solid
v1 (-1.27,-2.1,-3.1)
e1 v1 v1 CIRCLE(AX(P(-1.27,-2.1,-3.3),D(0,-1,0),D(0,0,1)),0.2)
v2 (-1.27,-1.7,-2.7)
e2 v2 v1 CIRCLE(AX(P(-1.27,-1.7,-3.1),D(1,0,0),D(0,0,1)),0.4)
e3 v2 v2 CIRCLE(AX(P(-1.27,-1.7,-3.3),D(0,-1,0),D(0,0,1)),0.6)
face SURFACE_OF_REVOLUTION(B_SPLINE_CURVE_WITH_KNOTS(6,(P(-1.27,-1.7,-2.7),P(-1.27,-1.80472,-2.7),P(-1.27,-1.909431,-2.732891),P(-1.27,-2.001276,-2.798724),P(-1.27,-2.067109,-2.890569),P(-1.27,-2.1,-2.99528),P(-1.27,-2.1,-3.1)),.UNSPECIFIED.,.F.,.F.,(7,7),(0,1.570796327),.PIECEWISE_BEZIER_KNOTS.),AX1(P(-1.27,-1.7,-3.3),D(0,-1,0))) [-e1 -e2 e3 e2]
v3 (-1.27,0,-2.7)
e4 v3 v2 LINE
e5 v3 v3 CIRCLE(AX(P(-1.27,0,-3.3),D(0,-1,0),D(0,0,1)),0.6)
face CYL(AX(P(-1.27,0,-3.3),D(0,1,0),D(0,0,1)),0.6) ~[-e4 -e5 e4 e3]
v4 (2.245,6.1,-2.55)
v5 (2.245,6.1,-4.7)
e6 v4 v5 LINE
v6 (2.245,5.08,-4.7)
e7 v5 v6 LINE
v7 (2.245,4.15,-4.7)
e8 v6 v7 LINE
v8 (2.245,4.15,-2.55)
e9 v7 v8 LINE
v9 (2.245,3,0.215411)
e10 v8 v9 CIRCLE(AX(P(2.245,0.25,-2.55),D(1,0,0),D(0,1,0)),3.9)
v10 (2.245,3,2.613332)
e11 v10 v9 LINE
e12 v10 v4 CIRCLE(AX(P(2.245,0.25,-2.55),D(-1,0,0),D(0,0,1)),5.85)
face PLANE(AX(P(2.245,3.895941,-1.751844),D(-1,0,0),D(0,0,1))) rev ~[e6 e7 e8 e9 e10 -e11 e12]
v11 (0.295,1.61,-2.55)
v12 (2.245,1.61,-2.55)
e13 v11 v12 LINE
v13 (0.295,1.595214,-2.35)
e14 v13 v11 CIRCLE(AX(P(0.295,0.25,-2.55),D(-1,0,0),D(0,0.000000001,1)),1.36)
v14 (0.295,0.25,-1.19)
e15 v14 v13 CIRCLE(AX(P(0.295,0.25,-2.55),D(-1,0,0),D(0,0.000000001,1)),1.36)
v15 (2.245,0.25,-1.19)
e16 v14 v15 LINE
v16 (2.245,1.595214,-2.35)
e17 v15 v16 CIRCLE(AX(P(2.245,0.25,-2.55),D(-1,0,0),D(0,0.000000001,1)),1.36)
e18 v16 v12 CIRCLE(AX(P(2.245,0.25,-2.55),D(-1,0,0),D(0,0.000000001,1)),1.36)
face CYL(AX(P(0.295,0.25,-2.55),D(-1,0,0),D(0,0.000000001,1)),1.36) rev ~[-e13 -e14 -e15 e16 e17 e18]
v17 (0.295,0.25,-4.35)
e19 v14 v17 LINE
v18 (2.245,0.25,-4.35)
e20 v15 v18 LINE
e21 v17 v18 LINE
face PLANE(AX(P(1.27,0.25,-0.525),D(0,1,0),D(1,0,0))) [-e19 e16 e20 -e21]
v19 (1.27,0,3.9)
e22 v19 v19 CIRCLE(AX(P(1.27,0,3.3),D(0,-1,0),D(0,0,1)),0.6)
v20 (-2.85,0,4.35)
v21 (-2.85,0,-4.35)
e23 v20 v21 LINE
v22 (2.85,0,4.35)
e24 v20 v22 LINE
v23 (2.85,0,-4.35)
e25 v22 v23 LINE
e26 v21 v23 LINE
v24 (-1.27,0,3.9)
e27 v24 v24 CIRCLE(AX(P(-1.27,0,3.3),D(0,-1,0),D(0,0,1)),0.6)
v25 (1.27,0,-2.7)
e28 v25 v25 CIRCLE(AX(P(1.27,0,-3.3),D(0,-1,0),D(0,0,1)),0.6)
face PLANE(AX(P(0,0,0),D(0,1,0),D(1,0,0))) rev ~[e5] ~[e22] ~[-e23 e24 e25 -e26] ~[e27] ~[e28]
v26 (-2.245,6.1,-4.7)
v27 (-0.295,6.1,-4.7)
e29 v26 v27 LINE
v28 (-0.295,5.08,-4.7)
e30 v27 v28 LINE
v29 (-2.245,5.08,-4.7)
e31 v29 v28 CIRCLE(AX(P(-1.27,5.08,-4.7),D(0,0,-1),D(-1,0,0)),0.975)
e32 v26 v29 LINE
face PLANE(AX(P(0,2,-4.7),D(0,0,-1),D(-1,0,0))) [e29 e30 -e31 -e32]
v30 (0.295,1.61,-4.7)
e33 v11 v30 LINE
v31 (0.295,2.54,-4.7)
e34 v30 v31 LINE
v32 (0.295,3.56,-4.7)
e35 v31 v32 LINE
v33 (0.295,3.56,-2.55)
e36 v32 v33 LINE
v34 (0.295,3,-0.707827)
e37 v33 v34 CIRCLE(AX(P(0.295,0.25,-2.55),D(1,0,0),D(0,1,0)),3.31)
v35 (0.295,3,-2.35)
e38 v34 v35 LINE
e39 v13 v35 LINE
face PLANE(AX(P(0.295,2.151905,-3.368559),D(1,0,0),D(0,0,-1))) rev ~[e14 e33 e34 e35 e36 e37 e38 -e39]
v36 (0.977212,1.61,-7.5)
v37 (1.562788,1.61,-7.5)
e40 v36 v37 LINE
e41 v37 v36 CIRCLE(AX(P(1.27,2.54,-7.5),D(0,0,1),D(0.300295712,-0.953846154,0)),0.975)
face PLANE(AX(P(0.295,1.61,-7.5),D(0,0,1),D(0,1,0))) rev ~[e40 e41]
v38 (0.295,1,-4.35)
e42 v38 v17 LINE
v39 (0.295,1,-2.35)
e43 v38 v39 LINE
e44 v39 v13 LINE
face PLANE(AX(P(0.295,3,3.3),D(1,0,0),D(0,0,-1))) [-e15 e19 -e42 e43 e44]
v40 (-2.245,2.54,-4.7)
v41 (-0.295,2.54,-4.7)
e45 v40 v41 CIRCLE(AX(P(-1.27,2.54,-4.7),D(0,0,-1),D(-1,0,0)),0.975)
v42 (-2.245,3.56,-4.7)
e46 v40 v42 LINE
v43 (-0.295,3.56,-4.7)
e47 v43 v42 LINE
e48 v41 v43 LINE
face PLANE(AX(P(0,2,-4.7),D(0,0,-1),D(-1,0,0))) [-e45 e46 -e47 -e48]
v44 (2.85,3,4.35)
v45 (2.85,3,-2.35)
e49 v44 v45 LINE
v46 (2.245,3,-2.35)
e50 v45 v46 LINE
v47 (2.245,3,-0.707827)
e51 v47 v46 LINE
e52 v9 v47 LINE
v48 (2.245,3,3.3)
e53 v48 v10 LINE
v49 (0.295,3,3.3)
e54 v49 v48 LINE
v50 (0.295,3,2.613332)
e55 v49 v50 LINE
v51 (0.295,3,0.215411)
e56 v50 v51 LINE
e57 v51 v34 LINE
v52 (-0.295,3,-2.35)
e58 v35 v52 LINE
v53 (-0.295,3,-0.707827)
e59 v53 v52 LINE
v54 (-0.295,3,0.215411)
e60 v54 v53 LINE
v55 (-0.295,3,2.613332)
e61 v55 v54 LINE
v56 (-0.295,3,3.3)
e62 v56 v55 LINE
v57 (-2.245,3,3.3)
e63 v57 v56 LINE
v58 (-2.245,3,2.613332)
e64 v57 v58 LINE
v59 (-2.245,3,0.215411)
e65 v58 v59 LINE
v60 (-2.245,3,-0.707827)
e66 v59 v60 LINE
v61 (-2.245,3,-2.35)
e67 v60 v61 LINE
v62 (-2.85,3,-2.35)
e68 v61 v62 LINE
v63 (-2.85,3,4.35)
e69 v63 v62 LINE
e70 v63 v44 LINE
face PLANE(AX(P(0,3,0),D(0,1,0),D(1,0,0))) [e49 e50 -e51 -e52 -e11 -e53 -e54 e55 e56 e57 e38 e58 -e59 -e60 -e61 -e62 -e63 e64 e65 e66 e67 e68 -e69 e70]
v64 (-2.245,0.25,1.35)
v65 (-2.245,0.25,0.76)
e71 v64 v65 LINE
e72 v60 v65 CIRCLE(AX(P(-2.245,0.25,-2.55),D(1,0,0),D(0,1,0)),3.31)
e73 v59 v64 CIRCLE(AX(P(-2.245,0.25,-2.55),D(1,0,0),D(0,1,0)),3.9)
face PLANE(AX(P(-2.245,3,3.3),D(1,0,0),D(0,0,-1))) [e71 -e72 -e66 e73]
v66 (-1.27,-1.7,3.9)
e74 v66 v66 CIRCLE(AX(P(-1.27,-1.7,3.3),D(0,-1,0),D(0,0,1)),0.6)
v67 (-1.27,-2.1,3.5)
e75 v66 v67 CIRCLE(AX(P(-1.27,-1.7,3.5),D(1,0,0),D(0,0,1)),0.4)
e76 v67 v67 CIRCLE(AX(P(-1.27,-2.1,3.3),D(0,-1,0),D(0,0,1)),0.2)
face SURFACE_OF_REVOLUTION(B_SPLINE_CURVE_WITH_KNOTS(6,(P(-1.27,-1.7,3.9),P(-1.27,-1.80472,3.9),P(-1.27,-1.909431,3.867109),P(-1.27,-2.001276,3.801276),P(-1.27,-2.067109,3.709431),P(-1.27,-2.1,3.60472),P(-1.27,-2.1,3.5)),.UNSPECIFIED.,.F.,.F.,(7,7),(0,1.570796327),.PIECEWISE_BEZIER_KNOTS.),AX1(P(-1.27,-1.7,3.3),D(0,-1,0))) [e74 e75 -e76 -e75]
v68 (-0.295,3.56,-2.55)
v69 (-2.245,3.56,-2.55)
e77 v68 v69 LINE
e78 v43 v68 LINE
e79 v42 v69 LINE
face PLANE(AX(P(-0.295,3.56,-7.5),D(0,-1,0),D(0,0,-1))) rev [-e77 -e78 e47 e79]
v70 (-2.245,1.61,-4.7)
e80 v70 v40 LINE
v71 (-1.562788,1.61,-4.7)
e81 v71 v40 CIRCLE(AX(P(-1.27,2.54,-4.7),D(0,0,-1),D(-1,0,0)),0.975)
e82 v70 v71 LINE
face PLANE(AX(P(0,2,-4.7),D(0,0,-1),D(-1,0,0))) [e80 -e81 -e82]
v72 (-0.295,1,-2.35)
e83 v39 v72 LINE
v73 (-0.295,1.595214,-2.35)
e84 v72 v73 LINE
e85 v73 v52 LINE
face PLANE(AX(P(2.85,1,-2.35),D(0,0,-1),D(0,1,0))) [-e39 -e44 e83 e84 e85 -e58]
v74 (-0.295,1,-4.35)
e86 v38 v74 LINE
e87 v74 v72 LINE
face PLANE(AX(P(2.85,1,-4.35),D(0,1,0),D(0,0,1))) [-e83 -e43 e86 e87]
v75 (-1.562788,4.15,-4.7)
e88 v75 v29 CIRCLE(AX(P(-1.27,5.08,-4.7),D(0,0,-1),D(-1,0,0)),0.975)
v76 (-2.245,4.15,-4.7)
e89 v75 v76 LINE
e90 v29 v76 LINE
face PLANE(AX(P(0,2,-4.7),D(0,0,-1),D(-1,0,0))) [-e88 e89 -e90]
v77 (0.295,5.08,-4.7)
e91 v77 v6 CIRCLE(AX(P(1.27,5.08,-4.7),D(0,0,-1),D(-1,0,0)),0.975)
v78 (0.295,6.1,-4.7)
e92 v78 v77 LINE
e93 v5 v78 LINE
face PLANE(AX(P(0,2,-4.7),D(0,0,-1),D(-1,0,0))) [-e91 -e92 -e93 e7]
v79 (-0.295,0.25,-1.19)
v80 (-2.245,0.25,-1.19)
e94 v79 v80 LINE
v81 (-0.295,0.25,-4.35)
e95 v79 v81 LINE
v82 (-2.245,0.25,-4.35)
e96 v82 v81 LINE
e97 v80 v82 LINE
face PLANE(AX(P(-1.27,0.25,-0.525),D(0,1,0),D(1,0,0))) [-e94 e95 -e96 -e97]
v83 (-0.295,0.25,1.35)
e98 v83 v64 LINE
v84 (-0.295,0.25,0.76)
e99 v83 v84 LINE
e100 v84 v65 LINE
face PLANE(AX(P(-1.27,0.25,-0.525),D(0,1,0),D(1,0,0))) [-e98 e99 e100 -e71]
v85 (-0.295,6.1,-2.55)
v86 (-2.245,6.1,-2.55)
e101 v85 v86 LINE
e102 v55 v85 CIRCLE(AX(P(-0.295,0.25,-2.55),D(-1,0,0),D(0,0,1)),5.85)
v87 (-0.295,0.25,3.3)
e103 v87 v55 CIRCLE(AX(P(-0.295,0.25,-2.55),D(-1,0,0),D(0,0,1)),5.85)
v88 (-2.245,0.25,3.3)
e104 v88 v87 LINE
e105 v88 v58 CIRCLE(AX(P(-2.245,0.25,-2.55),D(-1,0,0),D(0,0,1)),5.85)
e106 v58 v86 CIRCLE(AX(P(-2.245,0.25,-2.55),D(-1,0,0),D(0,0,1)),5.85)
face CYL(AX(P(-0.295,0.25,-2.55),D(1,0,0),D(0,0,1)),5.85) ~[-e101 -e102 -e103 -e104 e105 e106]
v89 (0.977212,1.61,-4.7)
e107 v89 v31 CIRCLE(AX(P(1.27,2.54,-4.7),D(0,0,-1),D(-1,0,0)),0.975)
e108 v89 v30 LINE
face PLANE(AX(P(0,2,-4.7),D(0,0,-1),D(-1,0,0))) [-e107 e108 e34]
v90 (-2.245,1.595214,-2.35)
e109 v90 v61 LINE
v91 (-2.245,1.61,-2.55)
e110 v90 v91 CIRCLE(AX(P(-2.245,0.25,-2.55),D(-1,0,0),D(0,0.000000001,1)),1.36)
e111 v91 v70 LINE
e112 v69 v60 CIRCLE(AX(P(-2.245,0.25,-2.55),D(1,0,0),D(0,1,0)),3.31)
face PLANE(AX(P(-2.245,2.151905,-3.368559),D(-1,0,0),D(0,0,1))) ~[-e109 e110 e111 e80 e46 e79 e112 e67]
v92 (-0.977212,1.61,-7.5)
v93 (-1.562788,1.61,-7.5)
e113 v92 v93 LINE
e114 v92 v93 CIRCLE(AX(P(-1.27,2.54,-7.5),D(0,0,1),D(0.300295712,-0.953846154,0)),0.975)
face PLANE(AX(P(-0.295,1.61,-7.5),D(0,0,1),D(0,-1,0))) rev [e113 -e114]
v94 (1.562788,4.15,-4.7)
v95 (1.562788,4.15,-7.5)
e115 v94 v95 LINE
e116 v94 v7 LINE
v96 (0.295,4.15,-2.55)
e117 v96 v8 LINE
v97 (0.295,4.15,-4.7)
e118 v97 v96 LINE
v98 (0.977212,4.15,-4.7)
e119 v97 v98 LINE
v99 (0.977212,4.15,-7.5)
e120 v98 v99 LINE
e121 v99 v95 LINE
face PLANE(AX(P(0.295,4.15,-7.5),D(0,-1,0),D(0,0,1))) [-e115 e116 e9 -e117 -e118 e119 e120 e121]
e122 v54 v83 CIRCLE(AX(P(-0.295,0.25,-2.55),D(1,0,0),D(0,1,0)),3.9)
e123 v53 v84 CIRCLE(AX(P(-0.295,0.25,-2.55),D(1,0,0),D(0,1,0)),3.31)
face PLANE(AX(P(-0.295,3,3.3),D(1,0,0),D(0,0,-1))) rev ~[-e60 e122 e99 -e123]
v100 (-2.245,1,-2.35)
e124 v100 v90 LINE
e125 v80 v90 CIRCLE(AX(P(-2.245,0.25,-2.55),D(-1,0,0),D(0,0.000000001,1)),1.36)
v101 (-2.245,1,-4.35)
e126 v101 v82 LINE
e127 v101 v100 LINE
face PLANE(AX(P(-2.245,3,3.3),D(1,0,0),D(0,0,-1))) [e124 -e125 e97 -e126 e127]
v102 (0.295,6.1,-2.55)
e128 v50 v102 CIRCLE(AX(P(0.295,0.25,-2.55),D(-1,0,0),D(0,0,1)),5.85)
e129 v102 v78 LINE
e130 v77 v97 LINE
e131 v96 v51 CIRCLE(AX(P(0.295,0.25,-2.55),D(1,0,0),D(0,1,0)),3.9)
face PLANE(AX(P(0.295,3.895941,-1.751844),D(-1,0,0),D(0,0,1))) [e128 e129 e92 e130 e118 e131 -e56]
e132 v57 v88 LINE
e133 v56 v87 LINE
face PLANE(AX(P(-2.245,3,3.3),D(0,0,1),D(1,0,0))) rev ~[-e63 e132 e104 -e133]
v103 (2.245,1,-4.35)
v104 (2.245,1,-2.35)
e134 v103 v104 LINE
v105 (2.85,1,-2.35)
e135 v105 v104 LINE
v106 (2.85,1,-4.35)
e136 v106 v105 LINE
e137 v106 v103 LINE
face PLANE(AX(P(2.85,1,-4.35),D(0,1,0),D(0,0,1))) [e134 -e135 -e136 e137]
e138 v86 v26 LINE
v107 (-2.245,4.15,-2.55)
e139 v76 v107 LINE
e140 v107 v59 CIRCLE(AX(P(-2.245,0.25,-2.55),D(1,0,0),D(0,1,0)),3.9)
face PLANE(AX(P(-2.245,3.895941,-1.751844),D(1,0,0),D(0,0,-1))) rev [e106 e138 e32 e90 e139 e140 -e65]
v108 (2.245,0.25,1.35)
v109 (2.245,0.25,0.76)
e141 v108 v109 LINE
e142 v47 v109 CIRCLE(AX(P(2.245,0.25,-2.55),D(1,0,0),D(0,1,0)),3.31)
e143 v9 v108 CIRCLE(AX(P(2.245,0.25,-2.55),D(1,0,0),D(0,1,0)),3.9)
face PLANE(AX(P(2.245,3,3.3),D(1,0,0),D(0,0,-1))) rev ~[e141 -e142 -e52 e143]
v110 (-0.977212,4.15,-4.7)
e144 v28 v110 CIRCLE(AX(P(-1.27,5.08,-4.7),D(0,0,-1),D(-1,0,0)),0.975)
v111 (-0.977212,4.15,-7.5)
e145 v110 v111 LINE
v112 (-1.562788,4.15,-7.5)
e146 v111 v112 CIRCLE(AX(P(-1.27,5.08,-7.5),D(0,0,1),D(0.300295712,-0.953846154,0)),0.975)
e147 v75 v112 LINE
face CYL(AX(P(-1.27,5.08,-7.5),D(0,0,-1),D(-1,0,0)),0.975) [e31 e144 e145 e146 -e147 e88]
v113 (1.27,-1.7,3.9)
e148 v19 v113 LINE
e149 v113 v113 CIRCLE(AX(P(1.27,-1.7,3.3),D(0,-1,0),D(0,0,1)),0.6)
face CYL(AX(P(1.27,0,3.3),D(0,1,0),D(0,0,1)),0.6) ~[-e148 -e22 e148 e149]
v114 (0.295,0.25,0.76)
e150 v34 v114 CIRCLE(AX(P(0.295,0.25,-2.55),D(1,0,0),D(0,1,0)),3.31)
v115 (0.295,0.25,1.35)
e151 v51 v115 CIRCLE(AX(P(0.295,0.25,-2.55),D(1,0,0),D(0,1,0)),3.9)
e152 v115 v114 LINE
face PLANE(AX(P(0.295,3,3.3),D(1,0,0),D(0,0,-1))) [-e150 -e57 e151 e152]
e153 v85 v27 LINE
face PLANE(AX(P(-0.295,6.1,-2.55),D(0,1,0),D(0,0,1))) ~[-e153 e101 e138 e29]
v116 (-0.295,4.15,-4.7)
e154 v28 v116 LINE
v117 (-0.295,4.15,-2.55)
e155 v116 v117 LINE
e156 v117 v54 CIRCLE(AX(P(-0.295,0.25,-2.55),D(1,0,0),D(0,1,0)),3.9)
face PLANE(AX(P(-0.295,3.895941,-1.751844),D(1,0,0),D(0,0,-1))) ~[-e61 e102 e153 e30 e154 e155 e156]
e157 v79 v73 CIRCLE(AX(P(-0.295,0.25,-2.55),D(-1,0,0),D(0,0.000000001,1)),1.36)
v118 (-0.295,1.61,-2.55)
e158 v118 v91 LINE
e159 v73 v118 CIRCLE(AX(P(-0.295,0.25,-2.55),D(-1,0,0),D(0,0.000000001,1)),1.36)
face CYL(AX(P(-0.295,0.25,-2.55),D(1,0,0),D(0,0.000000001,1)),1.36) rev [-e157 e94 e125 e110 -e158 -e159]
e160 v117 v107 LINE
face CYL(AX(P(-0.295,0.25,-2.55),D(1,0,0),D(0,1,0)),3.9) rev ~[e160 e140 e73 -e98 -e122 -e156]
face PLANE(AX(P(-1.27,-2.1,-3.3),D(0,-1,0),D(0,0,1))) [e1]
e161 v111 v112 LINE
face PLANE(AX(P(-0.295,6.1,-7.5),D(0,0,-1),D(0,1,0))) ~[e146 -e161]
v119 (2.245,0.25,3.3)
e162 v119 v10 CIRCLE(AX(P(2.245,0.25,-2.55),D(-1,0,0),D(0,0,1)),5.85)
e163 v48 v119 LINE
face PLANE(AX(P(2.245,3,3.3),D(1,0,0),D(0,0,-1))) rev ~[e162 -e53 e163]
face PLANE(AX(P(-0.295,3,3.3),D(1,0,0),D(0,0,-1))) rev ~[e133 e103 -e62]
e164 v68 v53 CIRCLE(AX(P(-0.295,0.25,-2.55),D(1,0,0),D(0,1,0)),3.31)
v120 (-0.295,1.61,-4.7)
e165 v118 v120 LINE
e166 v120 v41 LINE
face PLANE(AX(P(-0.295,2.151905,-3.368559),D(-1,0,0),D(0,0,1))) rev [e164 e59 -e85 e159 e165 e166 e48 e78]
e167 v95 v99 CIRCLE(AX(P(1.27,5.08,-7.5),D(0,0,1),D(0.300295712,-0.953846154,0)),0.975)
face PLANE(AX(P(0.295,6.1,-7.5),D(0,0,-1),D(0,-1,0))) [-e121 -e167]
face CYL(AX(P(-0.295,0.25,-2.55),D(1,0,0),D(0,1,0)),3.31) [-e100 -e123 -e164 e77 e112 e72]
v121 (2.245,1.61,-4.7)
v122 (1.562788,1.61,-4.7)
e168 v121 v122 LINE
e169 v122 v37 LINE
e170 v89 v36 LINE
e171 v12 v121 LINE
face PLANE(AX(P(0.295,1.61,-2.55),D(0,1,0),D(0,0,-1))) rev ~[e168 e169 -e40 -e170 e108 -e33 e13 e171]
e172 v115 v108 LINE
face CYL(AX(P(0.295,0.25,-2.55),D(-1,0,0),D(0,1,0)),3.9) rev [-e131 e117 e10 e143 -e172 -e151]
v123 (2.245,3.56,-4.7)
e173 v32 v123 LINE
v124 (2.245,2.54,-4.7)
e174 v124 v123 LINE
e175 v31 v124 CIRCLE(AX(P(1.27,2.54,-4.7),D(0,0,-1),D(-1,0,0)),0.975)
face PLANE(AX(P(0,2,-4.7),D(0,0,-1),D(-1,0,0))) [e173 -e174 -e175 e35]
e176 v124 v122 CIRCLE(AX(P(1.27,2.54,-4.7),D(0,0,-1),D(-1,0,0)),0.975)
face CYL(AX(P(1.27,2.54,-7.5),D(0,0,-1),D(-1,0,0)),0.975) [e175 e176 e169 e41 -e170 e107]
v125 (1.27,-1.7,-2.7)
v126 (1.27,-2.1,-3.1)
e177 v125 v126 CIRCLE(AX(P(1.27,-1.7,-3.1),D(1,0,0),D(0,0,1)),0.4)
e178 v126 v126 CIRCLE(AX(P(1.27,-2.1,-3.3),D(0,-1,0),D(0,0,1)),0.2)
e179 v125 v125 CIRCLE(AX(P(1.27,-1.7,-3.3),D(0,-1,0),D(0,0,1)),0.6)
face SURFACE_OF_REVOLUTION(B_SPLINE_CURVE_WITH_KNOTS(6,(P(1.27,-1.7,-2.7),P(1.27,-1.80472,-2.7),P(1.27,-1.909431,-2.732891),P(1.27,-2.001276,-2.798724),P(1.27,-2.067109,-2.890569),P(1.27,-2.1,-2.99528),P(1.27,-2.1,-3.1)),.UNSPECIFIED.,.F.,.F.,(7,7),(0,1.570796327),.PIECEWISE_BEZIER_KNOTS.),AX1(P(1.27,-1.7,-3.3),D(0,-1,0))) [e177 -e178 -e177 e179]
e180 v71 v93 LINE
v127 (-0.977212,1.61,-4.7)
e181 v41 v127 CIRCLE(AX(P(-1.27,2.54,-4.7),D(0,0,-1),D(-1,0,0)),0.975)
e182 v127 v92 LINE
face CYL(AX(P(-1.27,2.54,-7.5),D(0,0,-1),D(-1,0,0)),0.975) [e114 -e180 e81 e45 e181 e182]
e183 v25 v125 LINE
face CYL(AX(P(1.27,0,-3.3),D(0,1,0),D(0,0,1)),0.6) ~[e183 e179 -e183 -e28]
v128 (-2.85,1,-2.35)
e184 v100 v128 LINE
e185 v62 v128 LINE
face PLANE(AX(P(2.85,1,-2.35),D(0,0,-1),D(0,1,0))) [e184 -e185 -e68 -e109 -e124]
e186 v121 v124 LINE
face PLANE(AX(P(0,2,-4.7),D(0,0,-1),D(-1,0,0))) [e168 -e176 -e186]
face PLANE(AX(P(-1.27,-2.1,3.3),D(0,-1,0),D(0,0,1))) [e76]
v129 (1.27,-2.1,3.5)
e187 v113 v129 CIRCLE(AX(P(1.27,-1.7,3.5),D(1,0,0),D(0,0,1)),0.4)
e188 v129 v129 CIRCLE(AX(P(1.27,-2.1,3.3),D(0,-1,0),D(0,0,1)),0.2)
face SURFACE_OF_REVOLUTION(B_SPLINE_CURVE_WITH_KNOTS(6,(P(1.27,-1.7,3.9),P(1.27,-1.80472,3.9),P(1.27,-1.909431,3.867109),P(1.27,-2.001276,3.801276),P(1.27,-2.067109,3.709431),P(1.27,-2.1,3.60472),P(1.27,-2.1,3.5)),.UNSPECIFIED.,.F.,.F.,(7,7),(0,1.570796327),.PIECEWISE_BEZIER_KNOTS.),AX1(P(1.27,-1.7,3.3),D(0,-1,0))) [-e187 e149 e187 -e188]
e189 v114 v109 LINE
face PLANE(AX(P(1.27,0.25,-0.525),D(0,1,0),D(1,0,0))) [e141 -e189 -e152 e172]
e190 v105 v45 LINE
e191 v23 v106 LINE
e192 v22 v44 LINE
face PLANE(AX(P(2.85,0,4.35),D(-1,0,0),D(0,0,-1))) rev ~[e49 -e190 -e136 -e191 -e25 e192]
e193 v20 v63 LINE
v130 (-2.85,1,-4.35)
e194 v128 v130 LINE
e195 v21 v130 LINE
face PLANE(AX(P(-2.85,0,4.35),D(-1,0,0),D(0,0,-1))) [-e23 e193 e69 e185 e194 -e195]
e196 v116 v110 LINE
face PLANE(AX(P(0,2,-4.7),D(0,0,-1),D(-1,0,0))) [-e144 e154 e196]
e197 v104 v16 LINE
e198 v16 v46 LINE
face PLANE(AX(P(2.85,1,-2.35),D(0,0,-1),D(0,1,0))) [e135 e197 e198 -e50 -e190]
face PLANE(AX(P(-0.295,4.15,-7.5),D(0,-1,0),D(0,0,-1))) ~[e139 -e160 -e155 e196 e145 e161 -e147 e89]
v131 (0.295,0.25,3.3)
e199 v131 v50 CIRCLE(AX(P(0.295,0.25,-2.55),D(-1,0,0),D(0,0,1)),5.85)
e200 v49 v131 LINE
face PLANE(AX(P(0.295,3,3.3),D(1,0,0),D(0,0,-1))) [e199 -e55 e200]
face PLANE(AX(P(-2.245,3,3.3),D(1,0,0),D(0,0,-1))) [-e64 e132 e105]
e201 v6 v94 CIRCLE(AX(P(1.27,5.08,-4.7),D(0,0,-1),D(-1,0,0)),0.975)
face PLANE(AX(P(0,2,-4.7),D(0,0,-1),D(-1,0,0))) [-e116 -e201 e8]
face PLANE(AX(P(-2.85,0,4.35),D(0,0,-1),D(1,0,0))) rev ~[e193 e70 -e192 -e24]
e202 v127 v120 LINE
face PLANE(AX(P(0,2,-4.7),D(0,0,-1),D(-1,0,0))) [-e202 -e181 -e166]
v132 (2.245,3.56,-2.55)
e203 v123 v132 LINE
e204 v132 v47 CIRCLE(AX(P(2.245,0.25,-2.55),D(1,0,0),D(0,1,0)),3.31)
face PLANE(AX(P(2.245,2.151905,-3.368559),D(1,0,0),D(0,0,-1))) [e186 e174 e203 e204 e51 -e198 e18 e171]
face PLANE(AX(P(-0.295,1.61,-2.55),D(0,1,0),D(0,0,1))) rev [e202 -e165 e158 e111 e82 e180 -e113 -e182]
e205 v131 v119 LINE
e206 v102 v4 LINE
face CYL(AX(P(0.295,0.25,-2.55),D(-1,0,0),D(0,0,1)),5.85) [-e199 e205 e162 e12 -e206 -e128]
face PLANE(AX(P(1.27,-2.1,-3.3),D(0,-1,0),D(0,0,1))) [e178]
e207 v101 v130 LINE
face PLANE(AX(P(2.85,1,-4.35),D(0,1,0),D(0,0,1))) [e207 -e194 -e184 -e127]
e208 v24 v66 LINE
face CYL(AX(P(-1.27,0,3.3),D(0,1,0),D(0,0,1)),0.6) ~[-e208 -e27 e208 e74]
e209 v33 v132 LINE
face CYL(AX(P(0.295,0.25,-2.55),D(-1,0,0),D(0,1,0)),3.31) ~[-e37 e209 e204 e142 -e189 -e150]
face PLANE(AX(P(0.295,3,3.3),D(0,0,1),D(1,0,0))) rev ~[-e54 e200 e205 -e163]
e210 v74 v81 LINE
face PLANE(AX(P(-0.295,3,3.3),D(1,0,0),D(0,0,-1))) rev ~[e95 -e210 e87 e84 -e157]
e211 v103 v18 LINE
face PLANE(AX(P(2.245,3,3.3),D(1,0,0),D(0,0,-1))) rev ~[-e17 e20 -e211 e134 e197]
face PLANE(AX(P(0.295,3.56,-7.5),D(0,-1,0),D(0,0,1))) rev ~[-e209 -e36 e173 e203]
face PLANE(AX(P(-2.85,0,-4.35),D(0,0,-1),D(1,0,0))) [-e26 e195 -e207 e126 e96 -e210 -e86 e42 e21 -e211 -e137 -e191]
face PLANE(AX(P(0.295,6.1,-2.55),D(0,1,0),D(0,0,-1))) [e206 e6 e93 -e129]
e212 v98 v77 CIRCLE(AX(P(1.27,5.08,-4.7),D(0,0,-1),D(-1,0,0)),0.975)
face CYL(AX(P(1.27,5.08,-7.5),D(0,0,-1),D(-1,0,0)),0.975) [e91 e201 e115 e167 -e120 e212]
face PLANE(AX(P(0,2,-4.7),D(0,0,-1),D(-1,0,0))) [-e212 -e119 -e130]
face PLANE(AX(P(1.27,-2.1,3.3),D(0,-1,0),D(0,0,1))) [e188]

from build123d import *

# Parameters (mm, degrees)
SZKIC1_W                    = 5.7
SZKIC1_H                    = 8.7
DODANIE_WYCI_GNI_CIE1_DEPTH = 3
SZKIC5_W                    = 1.95
SZKIC5_H                    = 7.65
WYTNIJ_WYCI_GNI_CIE2_DEPTH  = 2.75
SZKIC3_W                    = 2
SZKIC3_H                    = 2
WYTNIJ_WYCI_GNI_CIE1_DEPTH  = 9.802840451
SZKIC6_R                    = 0.6
DODANIE_WYCI_GNI_CIE2_DEPTH = 2.1
ZAOKR_GLENIE1_R             = 0.4
DODANIE_WYCI_GNI_CIE3_DEPTH = 1.95
DODANIE_WYCI_GNI_CIE4_DEPTH = 1.95
SZKIC9_OUTSIDE_W            = 10.8
SZKIC9_OUTSIDE_H            = 13.3
SZKIC9_OUTSIDE_R            = 0.975
WYTNIJ_WYCI_GNI_CIE4_DEPTH  = 2.8


with BuildPart() as part:
    # Szkic1 → Dodanie-wyciągnięcie1 (new body)
    with BuildSketch(Plane(origin=(0, 0, 0), x_dir=(1, 0, 0), z_dir=(0, 1, 0))):
        Rectangle(SZKIC1_W, SZKIC1_H)
    extrude(amount=DODANIE_WYCI_GNI_CIE1_DEPTH)

    # Szkic5 → Wytnij-wyciągnięcie2 (cut)
    with BuildSketch(Plane(origin=(0, 3, 0), x_dir=(1, 0, 0), z_dir=(0, 1, 0))):
        with Locations((1.27, 0.525)):
            Rectangle(SZKIC5_W, SZKIC5_H)
        with Locations((-1.27, 0.525)):
            Rectangle(SZKIC5_W, SZKIC5_H)
    extrude(amount=-WYTNIJ_WYCI_GNI_CIE2_DEPTH, mode=Mode.SUBTRACT)

    # Szkic3 → Wytnij-wyciągnięcie1 (cut, through all)
    with BuildSketch(Plane(origin=(2.85, 0, 1.65), x_dir=(0, 0, 1), z_dir=(-1, 0, 0))):
        with Locations((-5, 2)):
            Rectangle(SZKIC3_W, SZKIC3_H)
    extrude(amount=WYTNIJ_WYCI_GNI_CIE1_DEPTH, mode=Mode.SUBTRACT)

    # Szkic6 → Dodanie-wyciągnięcie2 (add)
    with BuildSketch(Plane.XZ):
        with Locations(Location((1.27, 3.3, 0), (0, 0, 90))):
            Circle(SZKIC6_R)
        with Locations(Location((-1.27, 3.3, 0), (0, 0, 90))):
            Circle(SZKIC6_R)
        with Locations(Location((1.27, -3.3, 0), (0, 0, 90))):
            Circle(SZKIC6_R)
        with Locations(Location((-1.27, -3.3, 0), (0, 0, 90))):
            Circle(SZKIC6_R)
    extrude(amount=DODANIE_WYCI_GNI_CIE2_DEPTH)

    # Zaokrąglenie1
    zaokr_glenie1_edges = [part.edges().sort_by_distance(p)[0] for p in [
        (1.27, -2.1, 2.7),
        (-1.27, -2.1, 2.7),
        (1.27, -2.1, -3.9),
        (-1.27, -2.1, -3.9),
    ]]
    fillet(zaokr_glenie1_edges, radius=ZAOKR_GLENIE1_R)

    # Szkic7 → Dodanie-wyciągnięcie3 (add)
    with BuildSketch(Plane(origin=(0.295, 0, 0), x_dir=(0, 0, -1), z_dir=(1, 0, 0))):
        with BuildLine():
            Line((2.55, 6.1), (7.5, 6.1))
            Line((7.5, 6.1), (7.5, 4.15))
            Line((7.5, 4.15), (2.55, 4.15))
            ThreePointArc((2.55, 4.15), (-0.207716447, 3.007716447), (-1.35, 0.25))
            Line((-1.35, 0.25), (-3.3, 0.25))
            ThreePointArc((-3.3, 0.25), (-1.58657467, 4.38657467), (2.55, 6.1))
        make_face()
    dodanie_wyci_gni_cie3 = extrude(amount=DODANIE_WYCI_GNI_CIE3_DEPTH)

    # Szkic8 → Dodanie-wyciągnięcie4 (add)
    with BuildSketch(Plane(origin=(0.295, 0, 0), x_dir=(0, 0, -1), z_dir=(1, 0, 0))):
        with BuildLine():
            Line((7.5, 3.56), (2.55, 3.56))
            ThreePointArc((2.55, 3.56), (0.209476554, 2.590523446), (-0.76, 0.25))
            Line((-0.76, 0.25), (1.19, 0.25))
            ThreePointArc((1.19, 0.25), (1.588334778, 1.211665222), (2.55, 1.61))
            Line((2.55, 1.61), (7.5, 1.61))
            Line((7.5, 1.61), (7.5, 3.56))
        make_face()
    dodanie_wyci_gni_cie4 = extrude(amount=DODANIE_WYCI_GNI_CIE4_DEPTH)

    # Lustro2: Dodanie-wyciągnięcie3, Dodanie-wyciągnięcie4 across plane
    add(dodanie_wyci_gni_cie3.mirror(Plane.ZY))
    add(dodanie_wyci_gni_cie4.mirror(Plane.ZY))

    # Szkic9 outside → Wytnij-wyciągnięcie4 (cut)
    with BuildSketch(Plane(origin=(0, 0, -7.5), x_dir=(-1, 0, 0), z_dir=(0, 0, -1))):
        with Locations((0, 2)):
            Rectangle(SZKIC9_OUTSIDE_W, SZKIC9_OUTSIDE_H)
        with Locations((-1.27, 2.54)):
            Circle(SZKIC9_OUTSIDE_R, mode=Mode.SUBTRACT)
        with Locations((-1.27, 5.08)):
            Circle(SZKIC9_OUTSIDE_R, mode=Mode.SUBTRACT)
        with Locations((1.27, 5.08)):
            Circle(SZKIC9_OUTSIDE_R, mode=Mode.SUBTRACT)
        with Locations((1.27, 2.54)):
            Circle(SZKIC9_OUTSIDE_R, mode=Mode.SUBTRACT)
    extrude(amount=-WYTNIJ_WYCI_GNI_CIE4_DEPTH, mode=Mode.SUBTRACT)


solid = part.part
